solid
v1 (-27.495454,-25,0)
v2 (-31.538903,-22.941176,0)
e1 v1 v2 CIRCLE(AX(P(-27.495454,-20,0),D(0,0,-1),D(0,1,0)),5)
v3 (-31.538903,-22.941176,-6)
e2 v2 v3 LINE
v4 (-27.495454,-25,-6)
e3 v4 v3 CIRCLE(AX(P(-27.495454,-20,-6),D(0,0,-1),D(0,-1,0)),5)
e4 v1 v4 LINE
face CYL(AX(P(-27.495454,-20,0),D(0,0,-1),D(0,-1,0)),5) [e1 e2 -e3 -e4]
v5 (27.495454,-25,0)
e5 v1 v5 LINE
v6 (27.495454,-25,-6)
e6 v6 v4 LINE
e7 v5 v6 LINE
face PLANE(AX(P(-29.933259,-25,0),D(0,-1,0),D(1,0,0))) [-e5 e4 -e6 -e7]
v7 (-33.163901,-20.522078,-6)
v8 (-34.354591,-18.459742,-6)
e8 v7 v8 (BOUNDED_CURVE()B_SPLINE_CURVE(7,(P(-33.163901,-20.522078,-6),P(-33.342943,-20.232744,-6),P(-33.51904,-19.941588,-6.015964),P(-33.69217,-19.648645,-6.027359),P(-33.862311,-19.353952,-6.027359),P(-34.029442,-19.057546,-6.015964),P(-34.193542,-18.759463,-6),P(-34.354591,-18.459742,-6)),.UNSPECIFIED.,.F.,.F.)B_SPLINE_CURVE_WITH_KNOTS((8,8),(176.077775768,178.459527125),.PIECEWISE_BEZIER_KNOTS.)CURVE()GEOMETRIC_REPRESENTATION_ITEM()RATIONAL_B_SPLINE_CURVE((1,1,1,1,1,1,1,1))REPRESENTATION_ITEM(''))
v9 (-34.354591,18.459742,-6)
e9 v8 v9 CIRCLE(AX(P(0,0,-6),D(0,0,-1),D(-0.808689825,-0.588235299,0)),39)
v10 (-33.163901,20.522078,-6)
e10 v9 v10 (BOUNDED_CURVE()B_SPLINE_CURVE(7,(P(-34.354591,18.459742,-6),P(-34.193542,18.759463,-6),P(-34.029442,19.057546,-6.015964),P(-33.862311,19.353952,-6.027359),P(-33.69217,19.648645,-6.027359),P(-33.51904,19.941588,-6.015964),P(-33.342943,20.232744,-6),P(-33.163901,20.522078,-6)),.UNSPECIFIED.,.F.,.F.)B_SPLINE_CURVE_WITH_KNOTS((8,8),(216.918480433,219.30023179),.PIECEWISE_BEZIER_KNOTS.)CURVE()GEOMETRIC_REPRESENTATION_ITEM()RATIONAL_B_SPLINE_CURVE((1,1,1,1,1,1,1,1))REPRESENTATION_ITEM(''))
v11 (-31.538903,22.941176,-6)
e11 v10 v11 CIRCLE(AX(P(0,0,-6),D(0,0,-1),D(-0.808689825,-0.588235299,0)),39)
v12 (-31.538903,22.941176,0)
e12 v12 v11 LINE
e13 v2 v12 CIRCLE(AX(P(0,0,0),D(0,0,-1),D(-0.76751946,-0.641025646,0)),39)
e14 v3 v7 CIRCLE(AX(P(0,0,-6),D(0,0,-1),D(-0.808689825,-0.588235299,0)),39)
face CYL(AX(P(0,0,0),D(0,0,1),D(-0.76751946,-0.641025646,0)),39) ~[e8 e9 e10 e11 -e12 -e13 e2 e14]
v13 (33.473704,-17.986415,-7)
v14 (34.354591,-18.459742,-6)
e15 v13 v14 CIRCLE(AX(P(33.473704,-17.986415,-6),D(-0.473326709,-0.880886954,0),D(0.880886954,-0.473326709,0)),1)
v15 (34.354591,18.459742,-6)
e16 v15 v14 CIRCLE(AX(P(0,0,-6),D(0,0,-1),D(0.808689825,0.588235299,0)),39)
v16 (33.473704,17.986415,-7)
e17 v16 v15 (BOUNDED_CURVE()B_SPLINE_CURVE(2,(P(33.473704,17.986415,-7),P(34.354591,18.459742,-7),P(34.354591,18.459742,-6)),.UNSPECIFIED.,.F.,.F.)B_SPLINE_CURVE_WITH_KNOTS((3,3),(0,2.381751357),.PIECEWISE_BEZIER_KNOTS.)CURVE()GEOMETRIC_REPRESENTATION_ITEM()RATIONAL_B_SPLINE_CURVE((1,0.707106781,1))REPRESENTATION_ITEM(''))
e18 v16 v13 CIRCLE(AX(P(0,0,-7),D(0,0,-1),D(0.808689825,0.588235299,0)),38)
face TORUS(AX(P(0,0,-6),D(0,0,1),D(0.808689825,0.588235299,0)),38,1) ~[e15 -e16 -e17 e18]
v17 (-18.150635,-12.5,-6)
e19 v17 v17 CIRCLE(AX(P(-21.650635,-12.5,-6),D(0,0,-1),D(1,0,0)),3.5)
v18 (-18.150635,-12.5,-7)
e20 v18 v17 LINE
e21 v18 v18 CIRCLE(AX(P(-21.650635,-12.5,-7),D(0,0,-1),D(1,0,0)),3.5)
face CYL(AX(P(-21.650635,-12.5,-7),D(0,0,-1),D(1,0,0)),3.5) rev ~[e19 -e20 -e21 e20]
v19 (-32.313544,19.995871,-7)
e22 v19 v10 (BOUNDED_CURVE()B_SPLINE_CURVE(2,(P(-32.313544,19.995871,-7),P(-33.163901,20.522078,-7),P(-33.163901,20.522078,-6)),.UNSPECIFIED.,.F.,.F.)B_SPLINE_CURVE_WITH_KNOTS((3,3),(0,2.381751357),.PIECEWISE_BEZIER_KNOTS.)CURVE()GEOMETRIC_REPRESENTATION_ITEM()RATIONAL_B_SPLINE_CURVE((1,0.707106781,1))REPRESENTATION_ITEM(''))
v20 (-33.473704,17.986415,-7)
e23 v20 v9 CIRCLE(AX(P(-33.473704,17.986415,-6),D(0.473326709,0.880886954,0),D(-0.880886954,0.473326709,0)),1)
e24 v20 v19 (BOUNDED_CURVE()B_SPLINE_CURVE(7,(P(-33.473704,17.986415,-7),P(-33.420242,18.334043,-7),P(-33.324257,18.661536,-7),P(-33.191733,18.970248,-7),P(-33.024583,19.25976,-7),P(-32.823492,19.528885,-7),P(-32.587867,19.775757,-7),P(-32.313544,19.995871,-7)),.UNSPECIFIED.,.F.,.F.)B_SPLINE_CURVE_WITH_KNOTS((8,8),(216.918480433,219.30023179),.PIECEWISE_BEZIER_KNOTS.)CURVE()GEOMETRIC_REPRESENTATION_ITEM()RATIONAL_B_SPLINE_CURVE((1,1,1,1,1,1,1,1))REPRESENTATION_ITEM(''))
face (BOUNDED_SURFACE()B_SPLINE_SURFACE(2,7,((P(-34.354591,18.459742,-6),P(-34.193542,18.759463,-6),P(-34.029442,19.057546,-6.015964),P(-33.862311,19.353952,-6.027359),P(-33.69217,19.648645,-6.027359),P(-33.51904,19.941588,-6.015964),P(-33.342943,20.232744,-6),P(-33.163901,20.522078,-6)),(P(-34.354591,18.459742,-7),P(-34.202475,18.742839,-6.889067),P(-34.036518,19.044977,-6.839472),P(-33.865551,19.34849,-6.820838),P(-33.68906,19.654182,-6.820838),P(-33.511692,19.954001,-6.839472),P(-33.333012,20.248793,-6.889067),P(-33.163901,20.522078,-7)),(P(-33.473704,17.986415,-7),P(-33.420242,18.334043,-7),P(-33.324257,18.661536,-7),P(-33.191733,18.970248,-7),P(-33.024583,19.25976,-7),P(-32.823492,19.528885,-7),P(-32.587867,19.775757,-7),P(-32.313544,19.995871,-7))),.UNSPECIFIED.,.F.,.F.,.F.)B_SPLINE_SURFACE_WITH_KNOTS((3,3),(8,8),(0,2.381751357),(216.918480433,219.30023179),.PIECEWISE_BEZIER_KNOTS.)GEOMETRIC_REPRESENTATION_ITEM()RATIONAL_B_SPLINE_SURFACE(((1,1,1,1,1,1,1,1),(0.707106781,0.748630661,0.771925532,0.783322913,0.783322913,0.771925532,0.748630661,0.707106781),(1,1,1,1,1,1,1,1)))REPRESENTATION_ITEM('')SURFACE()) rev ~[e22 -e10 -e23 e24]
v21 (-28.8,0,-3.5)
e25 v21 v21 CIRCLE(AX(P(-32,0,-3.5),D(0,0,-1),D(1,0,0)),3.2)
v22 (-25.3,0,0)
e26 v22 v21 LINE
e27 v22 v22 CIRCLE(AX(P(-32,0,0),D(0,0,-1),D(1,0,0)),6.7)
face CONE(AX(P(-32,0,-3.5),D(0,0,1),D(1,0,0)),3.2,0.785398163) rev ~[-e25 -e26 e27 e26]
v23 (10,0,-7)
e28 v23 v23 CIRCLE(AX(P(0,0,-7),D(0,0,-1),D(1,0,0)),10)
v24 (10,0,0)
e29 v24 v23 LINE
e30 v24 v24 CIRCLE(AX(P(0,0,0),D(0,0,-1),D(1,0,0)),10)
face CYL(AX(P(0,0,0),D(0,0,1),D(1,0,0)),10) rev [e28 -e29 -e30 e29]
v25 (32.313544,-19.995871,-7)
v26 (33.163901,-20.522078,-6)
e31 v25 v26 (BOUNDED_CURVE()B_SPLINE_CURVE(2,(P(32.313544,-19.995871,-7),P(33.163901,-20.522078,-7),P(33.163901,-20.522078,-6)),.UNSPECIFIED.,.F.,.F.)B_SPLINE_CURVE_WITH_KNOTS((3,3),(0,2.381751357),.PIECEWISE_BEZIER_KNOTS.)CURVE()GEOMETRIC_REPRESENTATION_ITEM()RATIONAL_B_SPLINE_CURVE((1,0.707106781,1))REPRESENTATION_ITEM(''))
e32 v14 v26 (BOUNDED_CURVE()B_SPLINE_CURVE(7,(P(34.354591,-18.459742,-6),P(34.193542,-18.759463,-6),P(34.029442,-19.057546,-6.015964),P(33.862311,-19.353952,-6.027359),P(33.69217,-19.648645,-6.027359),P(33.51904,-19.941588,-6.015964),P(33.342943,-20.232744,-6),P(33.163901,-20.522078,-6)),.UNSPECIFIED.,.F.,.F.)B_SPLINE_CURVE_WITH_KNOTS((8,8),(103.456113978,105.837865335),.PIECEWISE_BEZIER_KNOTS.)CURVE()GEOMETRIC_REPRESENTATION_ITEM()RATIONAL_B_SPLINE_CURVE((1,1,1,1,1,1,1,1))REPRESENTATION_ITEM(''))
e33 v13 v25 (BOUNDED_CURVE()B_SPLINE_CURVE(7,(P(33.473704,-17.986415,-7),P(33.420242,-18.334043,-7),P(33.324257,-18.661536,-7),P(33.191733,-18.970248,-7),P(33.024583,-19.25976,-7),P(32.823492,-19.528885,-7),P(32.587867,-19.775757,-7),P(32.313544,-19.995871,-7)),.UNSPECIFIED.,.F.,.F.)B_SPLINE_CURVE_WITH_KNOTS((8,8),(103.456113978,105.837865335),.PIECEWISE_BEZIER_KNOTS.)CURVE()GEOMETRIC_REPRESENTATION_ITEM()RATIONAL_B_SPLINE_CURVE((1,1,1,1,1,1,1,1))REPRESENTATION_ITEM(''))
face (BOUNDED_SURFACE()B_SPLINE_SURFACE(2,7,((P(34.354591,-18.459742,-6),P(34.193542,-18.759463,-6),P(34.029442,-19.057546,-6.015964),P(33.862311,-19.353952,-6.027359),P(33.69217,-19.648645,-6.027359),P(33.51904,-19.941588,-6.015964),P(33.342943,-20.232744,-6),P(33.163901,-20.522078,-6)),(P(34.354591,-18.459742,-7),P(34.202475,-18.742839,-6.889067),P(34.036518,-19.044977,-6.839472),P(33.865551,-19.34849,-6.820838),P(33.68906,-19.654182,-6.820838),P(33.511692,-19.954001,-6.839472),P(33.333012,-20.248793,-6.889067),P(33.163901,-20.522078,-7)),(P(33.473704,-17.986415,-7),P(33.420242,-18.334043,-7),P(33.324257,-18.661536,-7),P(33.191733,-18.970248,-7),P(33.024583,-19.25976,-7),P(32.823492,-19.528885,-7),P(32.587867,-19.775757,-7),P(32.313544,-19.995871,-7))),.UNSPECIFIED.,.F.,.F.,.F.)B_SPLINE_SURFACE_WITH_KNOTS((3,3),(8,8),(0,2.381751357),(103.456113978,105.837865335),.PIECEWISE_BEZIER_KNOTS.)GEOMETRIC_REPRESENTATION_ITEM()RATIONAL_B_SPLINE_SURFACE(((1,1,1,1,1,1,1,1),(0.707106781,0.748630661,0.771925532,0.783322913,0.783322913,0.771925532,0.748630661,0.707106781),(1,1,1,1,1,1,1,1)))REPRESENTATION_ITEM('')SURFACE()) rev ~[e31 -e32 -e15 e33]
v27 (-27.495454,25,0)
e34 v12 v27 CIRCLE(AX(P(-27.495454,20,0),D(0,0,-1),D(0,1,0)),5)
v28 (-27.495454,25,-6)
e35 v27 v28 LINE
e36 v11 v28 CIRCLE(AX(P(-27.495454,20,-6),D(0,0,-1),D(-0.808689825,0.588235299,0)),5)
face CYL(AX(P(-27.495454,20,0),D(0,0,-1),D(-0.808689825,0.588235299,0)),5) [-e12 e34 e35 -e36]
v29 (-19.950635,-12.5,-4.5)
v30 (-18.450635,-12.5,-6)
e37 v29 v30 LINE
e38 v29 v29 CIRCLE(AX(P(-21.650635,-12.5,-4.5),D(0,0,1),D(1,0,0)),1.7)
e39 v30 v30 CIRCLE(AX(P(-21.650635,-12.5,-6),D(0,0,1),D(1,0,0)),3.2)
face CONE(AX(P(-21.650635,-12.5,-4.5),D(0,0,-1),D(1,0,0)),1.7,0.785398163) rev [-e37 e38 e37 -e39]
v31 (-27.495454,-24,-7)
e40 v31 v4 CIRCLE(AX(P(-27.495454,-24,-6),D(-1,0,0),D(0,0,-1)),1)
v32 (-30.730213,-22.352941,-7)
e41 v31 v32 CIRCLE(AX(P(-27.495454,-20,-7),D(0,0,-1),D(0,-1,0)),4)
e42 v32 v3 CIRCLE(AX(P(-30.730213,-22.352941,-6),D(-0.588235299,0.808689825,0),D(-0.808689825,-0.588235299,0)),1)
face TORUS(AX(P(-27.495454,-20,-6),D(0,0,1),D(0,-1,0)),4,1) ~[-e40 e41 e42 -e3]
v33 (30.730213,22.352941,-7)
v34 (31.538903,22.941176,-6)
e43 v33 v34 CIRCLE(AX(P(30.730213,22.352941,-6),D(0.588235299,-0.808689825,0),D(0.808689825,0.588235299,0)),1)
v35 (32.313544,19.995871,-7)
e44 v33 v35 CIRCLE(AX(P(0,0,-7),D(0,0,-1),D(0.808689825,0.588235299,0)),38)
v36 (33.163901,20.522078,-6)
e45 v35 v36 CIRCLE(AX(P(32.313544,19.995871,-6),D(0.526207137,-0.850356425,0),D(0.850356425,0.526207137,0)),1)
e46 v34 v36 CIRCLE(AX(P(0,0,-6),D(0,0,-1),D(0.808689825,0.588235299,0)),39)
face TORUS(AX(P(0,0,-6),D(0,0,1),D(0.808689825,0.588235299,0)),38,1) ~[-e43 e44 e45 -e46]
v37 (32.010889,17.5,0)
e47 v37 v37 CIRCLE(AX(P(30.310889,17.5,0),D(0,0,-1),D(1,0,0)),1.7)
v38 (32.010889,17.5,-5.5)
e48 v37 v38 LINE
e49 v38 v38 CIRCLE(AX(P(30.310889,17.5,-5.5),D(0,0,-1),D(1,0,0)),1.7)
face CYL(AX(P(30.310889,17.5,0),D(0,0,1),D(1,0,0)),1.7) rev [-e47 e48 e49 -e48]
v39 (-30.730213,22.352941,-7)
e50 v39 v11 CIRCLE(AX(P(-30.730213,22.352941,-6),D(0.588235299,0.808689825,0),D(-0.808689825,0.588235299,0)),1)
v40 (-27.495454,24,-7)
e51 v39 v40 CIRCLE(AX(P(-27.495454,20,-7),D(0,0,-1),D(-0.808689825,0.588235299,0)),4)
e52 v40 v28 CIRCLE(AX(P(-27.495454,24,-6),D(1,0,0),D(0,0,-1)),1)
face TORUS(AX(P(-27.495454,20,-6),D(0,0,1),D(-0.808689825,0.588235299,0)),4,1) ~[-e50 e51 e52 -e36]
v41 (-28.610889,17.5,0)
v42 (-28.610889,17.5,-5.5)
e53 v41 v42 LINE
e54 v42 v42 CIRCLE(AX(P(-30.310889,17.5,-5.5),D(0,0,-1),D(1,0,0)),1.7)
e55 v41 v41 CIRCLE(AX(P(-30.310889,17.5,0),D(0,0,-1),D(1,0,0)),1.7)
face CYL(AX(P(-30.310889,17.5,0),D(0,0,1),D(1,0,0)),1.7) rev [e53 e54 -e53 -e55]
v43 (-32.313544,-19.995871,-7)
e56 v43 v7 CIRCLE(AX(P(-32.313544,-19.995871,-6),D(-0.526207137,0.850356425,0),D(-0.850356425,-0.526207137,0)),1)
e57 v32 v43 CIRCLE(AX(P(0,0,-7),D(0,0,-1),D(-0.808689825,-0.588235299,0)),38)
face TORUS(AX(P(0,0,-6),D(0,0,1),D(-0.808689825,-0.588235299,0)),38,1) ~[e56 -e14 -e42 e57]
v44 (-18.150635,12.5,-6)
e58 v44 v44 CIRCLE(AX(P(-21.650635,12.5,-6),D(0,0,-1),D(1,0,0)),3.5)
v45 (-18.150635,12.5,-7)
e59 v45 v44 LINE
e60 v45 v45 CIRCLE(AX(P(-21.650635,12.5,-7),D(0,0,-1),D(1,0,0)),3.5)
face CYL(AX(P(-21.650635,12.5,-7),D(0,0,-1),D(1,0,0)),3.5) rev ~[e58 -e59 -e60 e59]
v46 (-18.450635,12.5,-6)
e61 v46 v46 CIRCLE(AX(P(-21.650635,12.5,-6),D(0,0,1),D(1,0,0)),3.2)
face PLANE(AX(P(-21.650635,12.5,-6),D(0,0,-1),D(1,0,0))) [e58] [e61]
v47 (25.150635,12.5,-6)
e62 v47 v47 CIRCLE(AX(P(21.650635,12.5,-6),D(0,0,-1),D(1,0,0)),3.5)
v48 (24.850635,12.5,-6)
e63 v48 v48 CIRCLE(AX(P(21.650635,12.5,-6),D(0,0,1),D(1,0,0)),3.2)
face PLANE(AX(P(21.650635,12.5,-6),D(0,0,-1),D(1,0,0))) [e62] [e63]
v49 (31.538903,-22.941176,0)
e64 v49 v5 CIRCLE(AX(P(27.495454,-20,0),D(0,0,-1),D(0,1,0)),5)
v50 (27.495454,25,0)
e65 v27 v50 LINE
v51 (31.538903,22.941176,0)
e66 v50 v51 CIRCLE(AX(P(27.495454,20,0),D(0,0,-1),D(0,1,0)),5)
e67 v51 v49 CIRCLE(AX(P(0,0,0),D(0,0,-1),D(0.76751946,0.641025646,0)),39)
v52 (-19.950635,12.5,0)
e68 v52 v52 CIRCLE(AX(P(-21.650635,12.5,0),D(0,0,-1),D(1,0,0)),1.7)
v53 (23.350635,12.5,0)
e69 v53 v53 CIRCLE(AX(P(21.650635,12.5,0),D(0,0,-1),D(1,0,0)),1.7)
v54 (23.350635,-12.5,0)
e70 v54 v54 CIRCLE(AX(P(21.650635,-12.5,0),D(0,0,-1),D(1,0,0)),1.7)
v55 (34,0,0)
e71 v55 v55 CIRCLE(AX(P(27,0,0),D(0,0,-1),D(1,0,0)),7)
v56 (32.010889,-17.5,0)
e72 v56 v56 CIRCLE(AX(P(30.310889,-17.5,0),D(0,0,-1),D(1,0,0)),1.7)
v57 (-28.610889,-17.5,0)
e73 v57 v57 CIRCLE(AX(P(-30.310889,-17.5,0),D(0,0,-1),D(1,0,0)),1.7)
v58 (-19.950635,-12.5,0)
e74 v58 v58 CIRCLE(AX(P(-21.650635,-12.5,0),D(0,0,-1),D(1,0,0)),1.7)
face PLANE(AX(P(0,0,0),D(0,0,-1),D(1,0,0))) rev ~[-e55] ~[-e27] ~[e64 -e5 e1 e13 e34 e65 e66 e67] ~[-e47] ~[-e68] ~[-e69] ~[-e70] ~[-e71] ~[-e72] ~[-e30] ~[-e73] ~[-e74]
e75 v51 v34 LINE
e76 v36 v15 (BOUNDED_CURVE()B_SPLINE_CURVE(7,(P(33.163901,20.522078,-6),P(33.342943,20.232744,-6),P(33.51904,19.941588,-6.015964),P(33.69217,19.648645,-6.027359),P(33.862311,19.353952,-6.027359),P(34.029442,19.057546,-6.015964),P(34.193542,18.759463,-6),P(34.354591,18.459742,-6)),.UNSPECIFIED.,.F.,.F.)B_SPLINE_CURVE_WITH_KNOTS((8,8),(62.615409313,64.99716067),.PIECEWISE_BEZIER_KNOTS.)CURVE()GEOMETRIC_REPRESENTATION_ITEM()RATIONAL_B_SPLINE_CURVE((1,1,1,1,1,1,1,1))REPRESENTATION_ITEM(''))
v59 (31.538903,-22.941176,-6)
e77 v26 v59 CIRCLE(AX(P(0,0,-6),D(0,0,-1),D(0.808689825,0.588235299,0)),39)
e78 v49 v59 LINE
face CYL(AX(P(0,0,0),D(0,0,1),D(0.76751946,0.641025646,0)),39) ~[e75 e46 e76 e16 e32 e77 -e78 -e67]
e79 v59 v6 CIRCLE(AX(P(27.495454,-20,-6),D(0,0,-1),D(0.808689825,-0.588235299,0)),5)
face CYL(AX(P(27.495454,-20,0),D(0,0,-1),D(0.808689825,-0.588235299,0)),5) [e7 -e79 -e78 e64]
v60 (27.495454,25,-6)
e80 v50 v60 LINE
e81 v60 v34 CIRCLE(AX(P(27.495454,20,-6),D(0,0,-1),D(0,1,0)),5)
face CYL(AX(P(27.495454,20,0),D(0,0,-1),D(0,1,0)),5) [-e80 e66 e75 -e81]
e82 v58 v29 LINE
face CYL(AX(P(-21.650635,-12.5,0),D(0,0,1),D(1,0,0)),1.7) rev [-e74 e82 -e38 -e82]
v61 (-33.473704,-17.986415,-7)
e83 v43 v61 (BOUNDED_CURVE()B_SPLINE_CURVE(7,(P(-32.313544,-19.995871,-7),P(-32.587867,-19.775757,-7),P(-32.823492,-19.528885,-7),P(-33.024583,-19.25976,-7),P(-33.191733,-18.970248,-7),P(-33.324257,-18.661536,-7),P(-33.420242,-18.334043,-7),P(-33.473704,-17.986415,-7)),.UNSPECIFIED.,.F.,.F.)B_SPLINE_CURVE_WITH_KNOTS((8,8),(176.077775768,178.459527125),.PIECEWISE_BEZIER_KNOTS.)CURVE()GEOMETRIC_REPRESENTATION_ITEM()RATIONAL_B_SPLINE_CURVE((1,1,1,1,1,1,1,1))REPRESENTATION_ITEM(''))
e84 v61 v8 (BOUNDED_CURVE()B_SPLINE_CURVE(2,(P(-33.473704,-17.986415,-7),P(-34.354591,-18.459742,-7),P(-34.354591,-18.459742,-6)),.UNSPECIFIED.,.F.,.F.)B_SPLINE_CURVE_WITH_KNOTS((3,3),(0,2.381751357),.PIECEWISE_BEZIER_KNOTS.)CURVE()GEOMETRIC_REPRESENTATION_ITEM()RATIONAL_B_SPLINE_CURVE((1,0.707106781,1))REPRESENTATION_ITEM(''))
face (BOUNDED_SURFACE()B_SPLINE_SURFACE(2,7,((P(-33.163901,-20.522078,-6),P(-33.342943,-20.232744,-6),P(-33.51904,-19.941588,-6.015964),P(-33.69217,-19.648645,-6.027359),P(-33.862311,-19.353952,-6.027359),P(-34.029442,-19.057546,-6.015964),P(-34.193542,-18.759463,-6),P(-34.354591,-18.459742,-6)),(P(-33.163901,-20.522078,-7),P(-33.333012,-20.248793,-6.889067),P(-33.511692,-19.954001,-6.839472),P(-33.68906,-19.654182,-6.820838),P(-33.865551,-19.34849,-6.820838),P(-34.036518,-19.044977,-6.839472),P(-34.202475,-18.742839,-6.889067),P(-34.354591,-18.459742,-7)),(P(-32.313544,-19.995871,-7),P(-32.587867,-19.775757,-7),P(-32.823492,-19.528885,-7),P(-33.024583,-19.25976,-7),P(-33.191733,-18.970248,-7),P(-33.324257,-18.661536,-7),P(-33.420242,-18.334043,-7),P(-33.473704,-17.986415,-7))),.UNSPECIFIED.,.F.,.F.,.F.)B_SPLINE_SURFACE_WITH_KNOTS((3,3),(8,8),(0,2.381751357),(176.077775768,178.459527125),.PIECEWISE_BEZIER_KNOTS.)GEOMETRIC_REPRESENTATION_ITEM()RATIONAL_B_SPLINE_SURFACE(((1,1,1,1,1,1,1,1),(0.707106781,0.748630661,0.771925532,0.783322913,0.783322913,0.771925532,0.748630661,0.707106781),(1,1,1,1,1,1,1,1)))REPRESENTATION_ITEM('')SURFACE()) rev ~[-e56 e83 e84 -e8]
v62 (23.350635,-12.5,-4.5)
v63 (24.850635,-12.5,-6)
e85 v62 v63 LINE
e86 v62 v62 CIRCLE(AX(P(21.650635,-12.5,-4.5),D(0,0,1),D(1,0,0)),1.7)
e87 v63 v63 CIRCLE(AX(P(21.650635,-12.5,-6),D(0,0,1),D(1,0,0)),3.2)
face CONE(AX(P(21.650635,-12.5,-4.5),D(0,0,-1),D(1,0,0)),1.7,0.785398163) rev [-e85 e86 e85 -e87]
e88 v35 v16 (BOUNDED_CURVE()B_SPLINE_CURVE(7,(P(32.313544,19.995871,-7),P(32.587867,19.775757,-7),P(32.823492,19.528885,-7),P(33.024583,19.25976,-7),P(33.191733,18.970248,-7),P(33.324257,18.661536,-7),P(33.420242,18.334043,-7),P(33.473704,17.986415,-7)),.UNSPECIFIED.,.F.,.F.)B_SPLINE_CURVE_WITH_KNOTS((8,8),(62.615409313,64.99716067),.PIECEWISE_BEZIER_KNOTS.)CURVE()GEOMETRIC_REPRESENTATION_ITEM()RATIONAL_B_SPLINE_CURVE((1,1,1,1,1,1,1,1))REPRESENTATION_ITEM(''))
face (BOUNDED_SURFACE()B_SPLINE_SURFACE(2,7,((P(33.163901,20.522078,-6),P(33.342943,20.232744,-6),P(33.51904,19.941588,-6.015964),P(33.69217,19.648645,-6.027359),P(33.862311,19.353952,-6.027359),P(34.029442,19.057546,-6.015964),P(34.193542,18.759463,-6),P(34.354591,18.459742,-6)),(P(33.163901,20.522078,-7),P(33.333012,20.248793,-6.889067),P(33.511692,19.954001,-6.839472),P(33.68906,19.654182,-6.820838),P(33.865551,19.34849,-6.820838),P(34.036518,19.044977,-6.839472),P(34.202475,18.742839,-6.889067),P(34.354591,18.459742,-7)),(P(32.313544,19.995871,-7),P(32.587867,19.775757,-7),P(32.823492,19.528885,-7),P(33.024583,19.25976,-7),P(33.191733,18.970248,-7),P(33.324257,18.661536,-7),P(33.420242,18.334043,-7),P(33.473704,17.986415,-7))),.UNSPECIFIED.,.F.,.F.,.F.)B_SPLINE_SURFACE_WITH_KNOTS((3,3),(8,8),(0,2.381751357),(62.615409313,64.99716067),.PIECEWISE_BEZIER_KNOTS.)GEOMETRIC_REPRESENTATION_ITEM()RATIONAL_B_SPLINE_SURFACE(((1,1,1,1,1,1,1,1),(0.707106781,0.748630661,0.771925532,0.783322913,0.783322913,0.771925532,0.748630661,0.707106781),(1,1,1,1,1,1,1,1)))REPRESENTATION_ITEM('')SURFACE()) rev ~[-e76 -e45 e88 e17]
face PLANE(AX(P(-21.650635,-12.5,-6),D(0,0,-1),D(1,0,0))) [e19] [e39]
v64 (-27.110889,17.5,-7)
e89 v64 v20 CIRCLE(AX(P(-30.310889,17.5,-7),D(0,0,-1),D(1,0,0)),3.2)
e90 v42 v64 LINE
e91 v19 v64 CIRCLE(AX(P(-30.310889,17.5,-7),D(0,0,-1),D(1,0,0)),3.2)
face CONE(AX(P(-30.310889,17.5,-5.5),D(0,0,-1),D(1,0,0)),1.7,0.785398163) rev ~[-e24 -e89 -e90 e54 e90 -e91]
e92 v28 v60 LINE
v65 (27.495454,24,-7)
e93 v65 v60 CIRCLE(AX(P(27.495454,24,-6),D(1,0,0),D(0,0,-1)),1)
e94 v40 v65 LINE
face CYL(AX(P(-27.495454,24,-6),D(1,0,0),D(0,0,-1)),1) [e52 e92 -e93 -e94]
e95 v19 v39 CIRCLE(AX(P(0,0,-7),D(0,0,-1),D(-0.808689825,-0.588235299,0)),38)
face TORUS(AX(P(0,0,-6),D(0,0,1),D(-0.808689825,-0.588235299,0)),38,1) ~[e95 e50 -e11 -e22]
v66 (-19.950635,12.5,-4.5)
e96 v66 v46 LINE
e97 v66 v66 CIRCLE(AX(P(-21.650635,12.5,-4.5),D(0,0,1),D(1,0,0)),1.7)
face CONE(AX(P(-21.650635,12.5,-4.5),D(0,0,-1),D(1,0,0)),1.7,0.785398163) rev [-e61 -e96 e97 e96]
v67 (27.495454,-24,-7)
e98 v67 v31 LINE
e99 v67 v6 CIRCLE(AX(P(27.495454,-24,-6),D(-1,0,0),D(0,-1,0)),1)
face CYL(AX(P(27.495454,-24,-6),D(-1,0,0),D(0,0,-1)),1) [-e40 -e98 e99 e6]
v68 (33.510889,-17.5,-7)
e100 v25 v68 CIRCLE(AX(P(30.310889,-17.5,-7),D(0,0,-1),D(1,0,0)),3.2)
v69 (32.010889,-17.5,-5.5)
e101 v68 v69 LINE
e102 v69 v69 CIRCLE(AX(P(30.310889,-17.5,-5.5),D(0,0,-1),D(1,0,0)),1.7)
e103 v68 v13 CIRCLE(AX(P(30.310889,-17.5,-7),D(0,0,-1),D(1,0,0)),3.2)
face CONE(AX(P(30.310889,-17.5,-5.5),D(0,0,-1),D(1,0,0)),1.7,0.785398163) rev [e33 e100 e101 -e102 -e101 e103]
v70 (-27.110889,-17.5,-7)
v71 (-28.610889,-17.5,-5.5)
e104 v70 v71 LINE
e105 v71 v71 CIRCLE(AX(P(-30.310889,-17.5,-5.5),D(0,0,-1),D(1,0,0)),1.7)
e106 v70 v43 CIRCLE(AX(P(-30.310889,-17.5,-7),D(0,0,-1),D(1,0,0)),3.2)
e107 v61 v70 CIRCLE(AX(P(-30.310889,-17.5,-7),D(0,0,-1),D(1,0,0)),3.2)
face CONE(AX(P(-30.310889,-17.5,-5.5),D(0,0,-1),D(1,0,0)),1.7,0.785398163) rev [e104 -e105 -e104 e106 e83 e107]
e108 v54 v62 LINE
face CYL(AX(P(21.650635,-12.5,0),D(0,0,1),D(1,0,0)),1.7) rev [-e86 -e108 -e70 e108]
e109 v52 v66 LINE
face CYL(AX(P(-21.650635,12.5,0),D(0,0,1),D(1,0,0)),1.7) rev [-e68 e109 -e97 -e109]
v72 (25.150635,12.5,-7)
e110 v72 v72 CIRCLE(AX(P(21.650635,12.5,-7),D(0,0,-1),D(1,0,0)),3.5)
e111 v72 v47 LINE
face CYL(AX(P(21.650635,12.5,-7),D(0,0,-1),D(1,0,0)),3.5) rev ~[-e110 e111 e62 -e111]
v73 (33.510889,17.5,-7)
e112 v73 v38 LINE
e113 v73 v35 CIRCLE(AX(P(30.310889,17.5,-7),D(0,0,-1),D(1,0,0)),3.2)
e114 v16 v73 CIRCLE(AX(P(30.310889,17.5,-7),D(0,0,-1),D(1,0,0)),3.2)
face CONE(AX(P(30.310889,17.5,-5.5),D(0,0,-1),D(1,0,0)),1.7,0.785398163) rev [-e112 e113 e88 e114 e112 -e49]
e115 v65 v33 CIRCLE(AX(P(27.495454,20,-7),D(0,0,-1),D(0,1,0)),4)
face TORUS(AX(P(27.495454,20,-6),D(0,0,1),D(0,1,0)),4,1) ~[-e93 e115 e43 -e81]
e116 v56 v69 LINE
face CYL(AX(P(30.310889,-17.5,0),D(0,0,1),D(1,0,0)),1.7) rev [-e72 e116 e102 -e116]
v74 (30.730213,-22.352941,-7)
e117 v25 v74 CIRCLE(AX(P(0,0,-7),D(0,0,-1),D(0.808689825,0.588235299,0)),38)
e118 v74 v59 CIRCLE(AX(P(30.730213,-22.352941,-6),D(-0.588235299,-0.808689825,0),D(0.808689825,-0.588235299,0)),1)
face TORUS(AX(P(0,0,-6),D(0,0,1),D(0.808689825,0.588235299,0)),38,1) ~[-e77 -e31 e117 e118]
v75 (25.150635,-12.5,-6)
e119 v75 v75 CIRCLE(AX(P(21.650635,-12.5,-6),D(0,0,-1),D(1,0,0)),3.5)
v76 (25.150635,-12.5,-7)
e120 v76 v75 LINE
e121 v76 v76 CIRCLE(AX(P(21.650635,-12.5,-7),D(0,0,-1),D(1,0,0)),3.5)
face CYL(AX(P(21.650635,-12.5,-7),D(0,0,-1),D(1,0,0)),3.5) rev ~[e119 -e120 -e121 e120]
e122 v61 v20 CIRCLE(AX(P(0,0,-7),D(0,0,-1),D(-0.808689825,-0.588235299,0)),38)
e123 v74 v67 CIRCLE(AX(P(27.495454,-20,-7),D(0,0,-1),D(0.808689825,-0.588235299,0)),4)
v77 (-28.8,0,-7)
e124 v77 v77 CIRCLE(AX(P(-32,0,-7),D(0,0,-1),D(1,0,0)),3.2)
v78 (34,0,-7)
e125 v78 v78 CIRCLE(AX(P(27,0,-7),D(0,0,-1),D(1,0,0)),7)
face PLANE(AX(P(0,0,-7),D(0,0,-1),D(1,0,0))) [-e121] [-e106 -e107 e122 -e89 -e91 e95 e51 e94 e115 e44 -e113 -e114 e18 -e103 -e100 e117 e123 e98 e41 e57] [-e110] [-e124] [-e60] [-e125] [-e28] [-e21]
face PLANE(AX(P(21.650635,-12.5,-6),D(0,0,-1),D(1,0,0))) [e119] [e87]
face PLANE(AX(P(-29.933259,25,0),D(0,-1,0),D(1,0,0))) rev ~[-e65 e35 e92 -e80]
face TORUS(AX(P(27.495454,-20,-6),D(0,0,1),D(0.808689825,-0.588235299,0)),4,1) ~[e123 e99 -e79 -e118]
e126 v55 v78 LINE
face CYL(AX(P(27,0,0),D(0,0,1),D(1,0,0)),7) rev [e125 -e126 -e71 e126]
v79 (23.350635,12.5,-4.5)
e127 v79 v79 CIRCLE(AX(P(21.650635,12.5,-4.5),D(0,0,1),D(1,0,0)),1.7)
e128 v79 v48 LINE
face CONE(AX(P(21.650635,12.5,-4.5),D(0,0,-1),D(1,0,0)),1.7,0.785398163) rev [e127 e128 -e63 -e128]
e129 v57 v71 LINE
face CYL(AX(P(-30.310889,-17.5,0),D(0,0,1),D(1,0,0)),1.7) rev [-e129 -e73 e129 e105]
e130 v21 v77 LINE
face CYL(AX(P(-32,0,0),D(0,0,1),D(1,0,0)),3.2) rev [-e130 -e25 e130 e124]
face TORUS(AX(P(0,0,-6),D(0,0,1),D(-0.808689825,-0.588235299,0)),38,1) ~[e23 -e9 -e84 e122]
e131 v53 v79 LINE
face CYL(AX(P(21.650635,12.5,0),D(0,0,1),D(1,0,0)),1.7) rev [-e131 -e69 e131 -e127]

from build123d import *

# Parameters (mm, degrees)
SKETCH020_R     = 10
SKETCH020_R_2   = 3.2
SKETCH020_R_3   = 1.7
SKETCH020_R_4   = 7
PAD_DEPTH       = 7
SKETCH021_R     = 3.5
POCKET_DEPTH    = 1
CHAMFER_SIZE    = 3.5
CHAMFER001_SIZE = 1.5
CHAMFER002_SIZE = 1.5
CHAMFER003_SIZE = 1.5
CHAMFER004_SIZE = 1.5
CHAMFER005_SIZE = 1.5
CHAMFER006_SIZE = 1.5
CHAMFER007_SIZE = 1.5
CHAMFER008_SIZE = 1.5
FILLET_R        = 5
FILLET001_R     = 5
FILLET002_R     = 5
FILLET003_R     = 5
FILLET004_R     = 1


with BuildPart() as part:
    # Sketch020 → Pad (new body)
    with BuildSketch(Plane(origin=(0, 0, 0), x_dir=(1, 0, 0), z_dir=(0, 0, -1))):
        with BuildLine():
            ThreePointArc((-29.933259, 25), (-39, 0), (-29.933259, -25))
            Line((-29.933259, -25), (29.933259, -25))
            ThreePointArc((29.933259, -25), (39, 0), (29.933259, 25))
            Line((-29.933259, 25), (29.933259, 25))
        make_face()
        Circle(SKETCH020_R, mode=Mode.SUBTRACT)
        with Locations((-32, 0)):
            Circle(SKETCH020_R_2, mode=Mode.SUBTRACT)
        with Locations((21.650635, 12.5)):
            Circle(SKETCH020_R_3, mode=Mode.SUBTRACT)
        with Locations((21.650635, -12.5)):
            Circle(SKETCH020_R_3, mode=Mode.SUBTRACT)
        with Locations((-21.650635, 12.5)):
            Circle(SKETCH020_R_3, mode=Mode.SUBTRACT)
        with Locations((-21.650635, -12.5)):
            Circle(SKETCH020_R_3, mode=Mode.SUBTRACT)
        with Locations((-30.310889, 17.5)):
            Circle(SKETCH020_R_3, mode=Mode.SUBTRACT)
        with Locations((-30.310889, -17.5)):
            Circle(SKETCH020_R_3, mode=Mode.SUBTRACT)
        with Locations((30.310889, 17.5)):
            Circle(SKETCH020_R_3, mode=Mode.SUBTRACT)
        with Locations((30.310889, -17.5)):
            Circle(SKETCH020_R_3, mode=Mode.SUBTRACT)
        with Locations((27, 0)):
            Circle(SKETCH020_R_4, mode=Mode.SUBTRACT)
    extrude(amount=PAD_DEPTH)

    # Sketch021 → Pocket (cut)
    with BuildSketch(Plane(origin=(0, 0, -7), x_dir=(1, 0, 0), z_dir=(0, 0, -1))):
        with Locations((21.650635, 12.5)):
            Circle(SKETCH021_R)
        with Locations((21.650635, -12.5)):
            Circle(SKETCH021_R)
        with Locations((-21.650635, 12.5)):
            Circle(SKETCH021_R)
        with Locations((-21.650635, -12.5)):
            Circle(SKETCH021_R)
    extrude(amount=-POCKET_DEPTH, mode=Mode.SUBTRACT)

    # Chamfer
    chamfer_edges = [part.edges().sort_by_distance(p)[0] for p in [
        (-35.2, 0, 0),
    ]]
    chamfer(chamfer_edges, length=CHAMFER_SIZE)

    # Chamfer001
    chamfer001_edges = [part.edges().sort_by_distance(p)[0] for p in [
        (-23.350635, -12.5, -6),
    ]]
    chamfer(chamfer001_edges, length=CHAMFER001_SIZE)

    # Chamfer002
    chamfer002_edges = [part.edges().sort_by_distance(p)[0] for p in [
        (-23.350635, 12.5, -6),
    ]]
    chamfer(chamfer002_edges, length=CHAMFER002_SIZE)

    # Chamfer003
    chamfer003_edges = [part.edges().sort_by_distance(p)[0] for p in [
        (19.950635, -12.5, -6),
    ]]
    chamfer(chamfer003_edges, length=CHAMFER003_SIZE)

    # Chamfer004
    chamfer004_edges = [part.edges().sort_by_distance(p)[0] for p in [
        (19.950635, 12.5, -6),
    ]]
    chamfer(chamfer004_edges, length=CHAMFER004_SIZE)

    # Chamfer005
    chamfer005_edges = [part.edges().sort_by_distance(p)[0] for p in [
        (-32.010889, 17.5, -7),
    ]]
    chamfer(chamfer005_edges, length=CHAMFER005_SIZE)

    # Chamfer006
    chamfer006_edges = [part.edges().sort_by_distance(p)[0] for p in [
        (-32.010889, -17.5, -7),
    ]]
    chamfer(chamfer006_edges, length=CHAMFER006_SIZE)

    # Chamfer007
    chamfer007_edges = [part.edges().sort_by_distance(p)[0] for p in [
        (28.610889, -17.5, -7),
    ]]
    chamfer(chamfer007_edges, length=CHAMFER007_SIZE)

    # Chamfer008
    chamfer008_edges = [part.edges().sort_by_distance(p)[0] for p in [
        (28.610889, 17.5, -7),
    ]]
    chamfer(chamfer008_edges, length=CHAMFER008_SIZE)

    # Fillet
    fillet_edges = [part.edges().sort_by_distance(p)[0] for p in [
        (-29.933259, 25, -3.5),
    ]]
    fillet(fillet_edges, radius=FILLET_R)

    # Fillet001
    fillet001_edges = [part.edges().sort_by_distance(p)[0] for p in [
        (29.933259, 25, -3.5),
    ]]
    fillet(fillet001_edges, radius=FILLET001_R)

    # Fillet002
    fillet002_edges = [part.edges().sort_by_distance(p)[0] for p in [
        (29.933259, -25, -3.5),
    ]]
    fillet(fillet002_edges, radius=FILLET002_R)

    # Fillet003
    fillet003_edges = [part.edges().sort_by_distance(p)[0] for p in [
        (-29.933259, -25, -3.5),
    ]]
    fillet(fillet003_edges, radius=FILLET003_R)

    # Fillet004
    fillet004_edges = [part.edges().sort_by_distance(p)[0] for p in [
        (0, 25, -7),
    ]]
    fillet(fillet004_edges, radius=FILLET004_R)


solid = part.part
